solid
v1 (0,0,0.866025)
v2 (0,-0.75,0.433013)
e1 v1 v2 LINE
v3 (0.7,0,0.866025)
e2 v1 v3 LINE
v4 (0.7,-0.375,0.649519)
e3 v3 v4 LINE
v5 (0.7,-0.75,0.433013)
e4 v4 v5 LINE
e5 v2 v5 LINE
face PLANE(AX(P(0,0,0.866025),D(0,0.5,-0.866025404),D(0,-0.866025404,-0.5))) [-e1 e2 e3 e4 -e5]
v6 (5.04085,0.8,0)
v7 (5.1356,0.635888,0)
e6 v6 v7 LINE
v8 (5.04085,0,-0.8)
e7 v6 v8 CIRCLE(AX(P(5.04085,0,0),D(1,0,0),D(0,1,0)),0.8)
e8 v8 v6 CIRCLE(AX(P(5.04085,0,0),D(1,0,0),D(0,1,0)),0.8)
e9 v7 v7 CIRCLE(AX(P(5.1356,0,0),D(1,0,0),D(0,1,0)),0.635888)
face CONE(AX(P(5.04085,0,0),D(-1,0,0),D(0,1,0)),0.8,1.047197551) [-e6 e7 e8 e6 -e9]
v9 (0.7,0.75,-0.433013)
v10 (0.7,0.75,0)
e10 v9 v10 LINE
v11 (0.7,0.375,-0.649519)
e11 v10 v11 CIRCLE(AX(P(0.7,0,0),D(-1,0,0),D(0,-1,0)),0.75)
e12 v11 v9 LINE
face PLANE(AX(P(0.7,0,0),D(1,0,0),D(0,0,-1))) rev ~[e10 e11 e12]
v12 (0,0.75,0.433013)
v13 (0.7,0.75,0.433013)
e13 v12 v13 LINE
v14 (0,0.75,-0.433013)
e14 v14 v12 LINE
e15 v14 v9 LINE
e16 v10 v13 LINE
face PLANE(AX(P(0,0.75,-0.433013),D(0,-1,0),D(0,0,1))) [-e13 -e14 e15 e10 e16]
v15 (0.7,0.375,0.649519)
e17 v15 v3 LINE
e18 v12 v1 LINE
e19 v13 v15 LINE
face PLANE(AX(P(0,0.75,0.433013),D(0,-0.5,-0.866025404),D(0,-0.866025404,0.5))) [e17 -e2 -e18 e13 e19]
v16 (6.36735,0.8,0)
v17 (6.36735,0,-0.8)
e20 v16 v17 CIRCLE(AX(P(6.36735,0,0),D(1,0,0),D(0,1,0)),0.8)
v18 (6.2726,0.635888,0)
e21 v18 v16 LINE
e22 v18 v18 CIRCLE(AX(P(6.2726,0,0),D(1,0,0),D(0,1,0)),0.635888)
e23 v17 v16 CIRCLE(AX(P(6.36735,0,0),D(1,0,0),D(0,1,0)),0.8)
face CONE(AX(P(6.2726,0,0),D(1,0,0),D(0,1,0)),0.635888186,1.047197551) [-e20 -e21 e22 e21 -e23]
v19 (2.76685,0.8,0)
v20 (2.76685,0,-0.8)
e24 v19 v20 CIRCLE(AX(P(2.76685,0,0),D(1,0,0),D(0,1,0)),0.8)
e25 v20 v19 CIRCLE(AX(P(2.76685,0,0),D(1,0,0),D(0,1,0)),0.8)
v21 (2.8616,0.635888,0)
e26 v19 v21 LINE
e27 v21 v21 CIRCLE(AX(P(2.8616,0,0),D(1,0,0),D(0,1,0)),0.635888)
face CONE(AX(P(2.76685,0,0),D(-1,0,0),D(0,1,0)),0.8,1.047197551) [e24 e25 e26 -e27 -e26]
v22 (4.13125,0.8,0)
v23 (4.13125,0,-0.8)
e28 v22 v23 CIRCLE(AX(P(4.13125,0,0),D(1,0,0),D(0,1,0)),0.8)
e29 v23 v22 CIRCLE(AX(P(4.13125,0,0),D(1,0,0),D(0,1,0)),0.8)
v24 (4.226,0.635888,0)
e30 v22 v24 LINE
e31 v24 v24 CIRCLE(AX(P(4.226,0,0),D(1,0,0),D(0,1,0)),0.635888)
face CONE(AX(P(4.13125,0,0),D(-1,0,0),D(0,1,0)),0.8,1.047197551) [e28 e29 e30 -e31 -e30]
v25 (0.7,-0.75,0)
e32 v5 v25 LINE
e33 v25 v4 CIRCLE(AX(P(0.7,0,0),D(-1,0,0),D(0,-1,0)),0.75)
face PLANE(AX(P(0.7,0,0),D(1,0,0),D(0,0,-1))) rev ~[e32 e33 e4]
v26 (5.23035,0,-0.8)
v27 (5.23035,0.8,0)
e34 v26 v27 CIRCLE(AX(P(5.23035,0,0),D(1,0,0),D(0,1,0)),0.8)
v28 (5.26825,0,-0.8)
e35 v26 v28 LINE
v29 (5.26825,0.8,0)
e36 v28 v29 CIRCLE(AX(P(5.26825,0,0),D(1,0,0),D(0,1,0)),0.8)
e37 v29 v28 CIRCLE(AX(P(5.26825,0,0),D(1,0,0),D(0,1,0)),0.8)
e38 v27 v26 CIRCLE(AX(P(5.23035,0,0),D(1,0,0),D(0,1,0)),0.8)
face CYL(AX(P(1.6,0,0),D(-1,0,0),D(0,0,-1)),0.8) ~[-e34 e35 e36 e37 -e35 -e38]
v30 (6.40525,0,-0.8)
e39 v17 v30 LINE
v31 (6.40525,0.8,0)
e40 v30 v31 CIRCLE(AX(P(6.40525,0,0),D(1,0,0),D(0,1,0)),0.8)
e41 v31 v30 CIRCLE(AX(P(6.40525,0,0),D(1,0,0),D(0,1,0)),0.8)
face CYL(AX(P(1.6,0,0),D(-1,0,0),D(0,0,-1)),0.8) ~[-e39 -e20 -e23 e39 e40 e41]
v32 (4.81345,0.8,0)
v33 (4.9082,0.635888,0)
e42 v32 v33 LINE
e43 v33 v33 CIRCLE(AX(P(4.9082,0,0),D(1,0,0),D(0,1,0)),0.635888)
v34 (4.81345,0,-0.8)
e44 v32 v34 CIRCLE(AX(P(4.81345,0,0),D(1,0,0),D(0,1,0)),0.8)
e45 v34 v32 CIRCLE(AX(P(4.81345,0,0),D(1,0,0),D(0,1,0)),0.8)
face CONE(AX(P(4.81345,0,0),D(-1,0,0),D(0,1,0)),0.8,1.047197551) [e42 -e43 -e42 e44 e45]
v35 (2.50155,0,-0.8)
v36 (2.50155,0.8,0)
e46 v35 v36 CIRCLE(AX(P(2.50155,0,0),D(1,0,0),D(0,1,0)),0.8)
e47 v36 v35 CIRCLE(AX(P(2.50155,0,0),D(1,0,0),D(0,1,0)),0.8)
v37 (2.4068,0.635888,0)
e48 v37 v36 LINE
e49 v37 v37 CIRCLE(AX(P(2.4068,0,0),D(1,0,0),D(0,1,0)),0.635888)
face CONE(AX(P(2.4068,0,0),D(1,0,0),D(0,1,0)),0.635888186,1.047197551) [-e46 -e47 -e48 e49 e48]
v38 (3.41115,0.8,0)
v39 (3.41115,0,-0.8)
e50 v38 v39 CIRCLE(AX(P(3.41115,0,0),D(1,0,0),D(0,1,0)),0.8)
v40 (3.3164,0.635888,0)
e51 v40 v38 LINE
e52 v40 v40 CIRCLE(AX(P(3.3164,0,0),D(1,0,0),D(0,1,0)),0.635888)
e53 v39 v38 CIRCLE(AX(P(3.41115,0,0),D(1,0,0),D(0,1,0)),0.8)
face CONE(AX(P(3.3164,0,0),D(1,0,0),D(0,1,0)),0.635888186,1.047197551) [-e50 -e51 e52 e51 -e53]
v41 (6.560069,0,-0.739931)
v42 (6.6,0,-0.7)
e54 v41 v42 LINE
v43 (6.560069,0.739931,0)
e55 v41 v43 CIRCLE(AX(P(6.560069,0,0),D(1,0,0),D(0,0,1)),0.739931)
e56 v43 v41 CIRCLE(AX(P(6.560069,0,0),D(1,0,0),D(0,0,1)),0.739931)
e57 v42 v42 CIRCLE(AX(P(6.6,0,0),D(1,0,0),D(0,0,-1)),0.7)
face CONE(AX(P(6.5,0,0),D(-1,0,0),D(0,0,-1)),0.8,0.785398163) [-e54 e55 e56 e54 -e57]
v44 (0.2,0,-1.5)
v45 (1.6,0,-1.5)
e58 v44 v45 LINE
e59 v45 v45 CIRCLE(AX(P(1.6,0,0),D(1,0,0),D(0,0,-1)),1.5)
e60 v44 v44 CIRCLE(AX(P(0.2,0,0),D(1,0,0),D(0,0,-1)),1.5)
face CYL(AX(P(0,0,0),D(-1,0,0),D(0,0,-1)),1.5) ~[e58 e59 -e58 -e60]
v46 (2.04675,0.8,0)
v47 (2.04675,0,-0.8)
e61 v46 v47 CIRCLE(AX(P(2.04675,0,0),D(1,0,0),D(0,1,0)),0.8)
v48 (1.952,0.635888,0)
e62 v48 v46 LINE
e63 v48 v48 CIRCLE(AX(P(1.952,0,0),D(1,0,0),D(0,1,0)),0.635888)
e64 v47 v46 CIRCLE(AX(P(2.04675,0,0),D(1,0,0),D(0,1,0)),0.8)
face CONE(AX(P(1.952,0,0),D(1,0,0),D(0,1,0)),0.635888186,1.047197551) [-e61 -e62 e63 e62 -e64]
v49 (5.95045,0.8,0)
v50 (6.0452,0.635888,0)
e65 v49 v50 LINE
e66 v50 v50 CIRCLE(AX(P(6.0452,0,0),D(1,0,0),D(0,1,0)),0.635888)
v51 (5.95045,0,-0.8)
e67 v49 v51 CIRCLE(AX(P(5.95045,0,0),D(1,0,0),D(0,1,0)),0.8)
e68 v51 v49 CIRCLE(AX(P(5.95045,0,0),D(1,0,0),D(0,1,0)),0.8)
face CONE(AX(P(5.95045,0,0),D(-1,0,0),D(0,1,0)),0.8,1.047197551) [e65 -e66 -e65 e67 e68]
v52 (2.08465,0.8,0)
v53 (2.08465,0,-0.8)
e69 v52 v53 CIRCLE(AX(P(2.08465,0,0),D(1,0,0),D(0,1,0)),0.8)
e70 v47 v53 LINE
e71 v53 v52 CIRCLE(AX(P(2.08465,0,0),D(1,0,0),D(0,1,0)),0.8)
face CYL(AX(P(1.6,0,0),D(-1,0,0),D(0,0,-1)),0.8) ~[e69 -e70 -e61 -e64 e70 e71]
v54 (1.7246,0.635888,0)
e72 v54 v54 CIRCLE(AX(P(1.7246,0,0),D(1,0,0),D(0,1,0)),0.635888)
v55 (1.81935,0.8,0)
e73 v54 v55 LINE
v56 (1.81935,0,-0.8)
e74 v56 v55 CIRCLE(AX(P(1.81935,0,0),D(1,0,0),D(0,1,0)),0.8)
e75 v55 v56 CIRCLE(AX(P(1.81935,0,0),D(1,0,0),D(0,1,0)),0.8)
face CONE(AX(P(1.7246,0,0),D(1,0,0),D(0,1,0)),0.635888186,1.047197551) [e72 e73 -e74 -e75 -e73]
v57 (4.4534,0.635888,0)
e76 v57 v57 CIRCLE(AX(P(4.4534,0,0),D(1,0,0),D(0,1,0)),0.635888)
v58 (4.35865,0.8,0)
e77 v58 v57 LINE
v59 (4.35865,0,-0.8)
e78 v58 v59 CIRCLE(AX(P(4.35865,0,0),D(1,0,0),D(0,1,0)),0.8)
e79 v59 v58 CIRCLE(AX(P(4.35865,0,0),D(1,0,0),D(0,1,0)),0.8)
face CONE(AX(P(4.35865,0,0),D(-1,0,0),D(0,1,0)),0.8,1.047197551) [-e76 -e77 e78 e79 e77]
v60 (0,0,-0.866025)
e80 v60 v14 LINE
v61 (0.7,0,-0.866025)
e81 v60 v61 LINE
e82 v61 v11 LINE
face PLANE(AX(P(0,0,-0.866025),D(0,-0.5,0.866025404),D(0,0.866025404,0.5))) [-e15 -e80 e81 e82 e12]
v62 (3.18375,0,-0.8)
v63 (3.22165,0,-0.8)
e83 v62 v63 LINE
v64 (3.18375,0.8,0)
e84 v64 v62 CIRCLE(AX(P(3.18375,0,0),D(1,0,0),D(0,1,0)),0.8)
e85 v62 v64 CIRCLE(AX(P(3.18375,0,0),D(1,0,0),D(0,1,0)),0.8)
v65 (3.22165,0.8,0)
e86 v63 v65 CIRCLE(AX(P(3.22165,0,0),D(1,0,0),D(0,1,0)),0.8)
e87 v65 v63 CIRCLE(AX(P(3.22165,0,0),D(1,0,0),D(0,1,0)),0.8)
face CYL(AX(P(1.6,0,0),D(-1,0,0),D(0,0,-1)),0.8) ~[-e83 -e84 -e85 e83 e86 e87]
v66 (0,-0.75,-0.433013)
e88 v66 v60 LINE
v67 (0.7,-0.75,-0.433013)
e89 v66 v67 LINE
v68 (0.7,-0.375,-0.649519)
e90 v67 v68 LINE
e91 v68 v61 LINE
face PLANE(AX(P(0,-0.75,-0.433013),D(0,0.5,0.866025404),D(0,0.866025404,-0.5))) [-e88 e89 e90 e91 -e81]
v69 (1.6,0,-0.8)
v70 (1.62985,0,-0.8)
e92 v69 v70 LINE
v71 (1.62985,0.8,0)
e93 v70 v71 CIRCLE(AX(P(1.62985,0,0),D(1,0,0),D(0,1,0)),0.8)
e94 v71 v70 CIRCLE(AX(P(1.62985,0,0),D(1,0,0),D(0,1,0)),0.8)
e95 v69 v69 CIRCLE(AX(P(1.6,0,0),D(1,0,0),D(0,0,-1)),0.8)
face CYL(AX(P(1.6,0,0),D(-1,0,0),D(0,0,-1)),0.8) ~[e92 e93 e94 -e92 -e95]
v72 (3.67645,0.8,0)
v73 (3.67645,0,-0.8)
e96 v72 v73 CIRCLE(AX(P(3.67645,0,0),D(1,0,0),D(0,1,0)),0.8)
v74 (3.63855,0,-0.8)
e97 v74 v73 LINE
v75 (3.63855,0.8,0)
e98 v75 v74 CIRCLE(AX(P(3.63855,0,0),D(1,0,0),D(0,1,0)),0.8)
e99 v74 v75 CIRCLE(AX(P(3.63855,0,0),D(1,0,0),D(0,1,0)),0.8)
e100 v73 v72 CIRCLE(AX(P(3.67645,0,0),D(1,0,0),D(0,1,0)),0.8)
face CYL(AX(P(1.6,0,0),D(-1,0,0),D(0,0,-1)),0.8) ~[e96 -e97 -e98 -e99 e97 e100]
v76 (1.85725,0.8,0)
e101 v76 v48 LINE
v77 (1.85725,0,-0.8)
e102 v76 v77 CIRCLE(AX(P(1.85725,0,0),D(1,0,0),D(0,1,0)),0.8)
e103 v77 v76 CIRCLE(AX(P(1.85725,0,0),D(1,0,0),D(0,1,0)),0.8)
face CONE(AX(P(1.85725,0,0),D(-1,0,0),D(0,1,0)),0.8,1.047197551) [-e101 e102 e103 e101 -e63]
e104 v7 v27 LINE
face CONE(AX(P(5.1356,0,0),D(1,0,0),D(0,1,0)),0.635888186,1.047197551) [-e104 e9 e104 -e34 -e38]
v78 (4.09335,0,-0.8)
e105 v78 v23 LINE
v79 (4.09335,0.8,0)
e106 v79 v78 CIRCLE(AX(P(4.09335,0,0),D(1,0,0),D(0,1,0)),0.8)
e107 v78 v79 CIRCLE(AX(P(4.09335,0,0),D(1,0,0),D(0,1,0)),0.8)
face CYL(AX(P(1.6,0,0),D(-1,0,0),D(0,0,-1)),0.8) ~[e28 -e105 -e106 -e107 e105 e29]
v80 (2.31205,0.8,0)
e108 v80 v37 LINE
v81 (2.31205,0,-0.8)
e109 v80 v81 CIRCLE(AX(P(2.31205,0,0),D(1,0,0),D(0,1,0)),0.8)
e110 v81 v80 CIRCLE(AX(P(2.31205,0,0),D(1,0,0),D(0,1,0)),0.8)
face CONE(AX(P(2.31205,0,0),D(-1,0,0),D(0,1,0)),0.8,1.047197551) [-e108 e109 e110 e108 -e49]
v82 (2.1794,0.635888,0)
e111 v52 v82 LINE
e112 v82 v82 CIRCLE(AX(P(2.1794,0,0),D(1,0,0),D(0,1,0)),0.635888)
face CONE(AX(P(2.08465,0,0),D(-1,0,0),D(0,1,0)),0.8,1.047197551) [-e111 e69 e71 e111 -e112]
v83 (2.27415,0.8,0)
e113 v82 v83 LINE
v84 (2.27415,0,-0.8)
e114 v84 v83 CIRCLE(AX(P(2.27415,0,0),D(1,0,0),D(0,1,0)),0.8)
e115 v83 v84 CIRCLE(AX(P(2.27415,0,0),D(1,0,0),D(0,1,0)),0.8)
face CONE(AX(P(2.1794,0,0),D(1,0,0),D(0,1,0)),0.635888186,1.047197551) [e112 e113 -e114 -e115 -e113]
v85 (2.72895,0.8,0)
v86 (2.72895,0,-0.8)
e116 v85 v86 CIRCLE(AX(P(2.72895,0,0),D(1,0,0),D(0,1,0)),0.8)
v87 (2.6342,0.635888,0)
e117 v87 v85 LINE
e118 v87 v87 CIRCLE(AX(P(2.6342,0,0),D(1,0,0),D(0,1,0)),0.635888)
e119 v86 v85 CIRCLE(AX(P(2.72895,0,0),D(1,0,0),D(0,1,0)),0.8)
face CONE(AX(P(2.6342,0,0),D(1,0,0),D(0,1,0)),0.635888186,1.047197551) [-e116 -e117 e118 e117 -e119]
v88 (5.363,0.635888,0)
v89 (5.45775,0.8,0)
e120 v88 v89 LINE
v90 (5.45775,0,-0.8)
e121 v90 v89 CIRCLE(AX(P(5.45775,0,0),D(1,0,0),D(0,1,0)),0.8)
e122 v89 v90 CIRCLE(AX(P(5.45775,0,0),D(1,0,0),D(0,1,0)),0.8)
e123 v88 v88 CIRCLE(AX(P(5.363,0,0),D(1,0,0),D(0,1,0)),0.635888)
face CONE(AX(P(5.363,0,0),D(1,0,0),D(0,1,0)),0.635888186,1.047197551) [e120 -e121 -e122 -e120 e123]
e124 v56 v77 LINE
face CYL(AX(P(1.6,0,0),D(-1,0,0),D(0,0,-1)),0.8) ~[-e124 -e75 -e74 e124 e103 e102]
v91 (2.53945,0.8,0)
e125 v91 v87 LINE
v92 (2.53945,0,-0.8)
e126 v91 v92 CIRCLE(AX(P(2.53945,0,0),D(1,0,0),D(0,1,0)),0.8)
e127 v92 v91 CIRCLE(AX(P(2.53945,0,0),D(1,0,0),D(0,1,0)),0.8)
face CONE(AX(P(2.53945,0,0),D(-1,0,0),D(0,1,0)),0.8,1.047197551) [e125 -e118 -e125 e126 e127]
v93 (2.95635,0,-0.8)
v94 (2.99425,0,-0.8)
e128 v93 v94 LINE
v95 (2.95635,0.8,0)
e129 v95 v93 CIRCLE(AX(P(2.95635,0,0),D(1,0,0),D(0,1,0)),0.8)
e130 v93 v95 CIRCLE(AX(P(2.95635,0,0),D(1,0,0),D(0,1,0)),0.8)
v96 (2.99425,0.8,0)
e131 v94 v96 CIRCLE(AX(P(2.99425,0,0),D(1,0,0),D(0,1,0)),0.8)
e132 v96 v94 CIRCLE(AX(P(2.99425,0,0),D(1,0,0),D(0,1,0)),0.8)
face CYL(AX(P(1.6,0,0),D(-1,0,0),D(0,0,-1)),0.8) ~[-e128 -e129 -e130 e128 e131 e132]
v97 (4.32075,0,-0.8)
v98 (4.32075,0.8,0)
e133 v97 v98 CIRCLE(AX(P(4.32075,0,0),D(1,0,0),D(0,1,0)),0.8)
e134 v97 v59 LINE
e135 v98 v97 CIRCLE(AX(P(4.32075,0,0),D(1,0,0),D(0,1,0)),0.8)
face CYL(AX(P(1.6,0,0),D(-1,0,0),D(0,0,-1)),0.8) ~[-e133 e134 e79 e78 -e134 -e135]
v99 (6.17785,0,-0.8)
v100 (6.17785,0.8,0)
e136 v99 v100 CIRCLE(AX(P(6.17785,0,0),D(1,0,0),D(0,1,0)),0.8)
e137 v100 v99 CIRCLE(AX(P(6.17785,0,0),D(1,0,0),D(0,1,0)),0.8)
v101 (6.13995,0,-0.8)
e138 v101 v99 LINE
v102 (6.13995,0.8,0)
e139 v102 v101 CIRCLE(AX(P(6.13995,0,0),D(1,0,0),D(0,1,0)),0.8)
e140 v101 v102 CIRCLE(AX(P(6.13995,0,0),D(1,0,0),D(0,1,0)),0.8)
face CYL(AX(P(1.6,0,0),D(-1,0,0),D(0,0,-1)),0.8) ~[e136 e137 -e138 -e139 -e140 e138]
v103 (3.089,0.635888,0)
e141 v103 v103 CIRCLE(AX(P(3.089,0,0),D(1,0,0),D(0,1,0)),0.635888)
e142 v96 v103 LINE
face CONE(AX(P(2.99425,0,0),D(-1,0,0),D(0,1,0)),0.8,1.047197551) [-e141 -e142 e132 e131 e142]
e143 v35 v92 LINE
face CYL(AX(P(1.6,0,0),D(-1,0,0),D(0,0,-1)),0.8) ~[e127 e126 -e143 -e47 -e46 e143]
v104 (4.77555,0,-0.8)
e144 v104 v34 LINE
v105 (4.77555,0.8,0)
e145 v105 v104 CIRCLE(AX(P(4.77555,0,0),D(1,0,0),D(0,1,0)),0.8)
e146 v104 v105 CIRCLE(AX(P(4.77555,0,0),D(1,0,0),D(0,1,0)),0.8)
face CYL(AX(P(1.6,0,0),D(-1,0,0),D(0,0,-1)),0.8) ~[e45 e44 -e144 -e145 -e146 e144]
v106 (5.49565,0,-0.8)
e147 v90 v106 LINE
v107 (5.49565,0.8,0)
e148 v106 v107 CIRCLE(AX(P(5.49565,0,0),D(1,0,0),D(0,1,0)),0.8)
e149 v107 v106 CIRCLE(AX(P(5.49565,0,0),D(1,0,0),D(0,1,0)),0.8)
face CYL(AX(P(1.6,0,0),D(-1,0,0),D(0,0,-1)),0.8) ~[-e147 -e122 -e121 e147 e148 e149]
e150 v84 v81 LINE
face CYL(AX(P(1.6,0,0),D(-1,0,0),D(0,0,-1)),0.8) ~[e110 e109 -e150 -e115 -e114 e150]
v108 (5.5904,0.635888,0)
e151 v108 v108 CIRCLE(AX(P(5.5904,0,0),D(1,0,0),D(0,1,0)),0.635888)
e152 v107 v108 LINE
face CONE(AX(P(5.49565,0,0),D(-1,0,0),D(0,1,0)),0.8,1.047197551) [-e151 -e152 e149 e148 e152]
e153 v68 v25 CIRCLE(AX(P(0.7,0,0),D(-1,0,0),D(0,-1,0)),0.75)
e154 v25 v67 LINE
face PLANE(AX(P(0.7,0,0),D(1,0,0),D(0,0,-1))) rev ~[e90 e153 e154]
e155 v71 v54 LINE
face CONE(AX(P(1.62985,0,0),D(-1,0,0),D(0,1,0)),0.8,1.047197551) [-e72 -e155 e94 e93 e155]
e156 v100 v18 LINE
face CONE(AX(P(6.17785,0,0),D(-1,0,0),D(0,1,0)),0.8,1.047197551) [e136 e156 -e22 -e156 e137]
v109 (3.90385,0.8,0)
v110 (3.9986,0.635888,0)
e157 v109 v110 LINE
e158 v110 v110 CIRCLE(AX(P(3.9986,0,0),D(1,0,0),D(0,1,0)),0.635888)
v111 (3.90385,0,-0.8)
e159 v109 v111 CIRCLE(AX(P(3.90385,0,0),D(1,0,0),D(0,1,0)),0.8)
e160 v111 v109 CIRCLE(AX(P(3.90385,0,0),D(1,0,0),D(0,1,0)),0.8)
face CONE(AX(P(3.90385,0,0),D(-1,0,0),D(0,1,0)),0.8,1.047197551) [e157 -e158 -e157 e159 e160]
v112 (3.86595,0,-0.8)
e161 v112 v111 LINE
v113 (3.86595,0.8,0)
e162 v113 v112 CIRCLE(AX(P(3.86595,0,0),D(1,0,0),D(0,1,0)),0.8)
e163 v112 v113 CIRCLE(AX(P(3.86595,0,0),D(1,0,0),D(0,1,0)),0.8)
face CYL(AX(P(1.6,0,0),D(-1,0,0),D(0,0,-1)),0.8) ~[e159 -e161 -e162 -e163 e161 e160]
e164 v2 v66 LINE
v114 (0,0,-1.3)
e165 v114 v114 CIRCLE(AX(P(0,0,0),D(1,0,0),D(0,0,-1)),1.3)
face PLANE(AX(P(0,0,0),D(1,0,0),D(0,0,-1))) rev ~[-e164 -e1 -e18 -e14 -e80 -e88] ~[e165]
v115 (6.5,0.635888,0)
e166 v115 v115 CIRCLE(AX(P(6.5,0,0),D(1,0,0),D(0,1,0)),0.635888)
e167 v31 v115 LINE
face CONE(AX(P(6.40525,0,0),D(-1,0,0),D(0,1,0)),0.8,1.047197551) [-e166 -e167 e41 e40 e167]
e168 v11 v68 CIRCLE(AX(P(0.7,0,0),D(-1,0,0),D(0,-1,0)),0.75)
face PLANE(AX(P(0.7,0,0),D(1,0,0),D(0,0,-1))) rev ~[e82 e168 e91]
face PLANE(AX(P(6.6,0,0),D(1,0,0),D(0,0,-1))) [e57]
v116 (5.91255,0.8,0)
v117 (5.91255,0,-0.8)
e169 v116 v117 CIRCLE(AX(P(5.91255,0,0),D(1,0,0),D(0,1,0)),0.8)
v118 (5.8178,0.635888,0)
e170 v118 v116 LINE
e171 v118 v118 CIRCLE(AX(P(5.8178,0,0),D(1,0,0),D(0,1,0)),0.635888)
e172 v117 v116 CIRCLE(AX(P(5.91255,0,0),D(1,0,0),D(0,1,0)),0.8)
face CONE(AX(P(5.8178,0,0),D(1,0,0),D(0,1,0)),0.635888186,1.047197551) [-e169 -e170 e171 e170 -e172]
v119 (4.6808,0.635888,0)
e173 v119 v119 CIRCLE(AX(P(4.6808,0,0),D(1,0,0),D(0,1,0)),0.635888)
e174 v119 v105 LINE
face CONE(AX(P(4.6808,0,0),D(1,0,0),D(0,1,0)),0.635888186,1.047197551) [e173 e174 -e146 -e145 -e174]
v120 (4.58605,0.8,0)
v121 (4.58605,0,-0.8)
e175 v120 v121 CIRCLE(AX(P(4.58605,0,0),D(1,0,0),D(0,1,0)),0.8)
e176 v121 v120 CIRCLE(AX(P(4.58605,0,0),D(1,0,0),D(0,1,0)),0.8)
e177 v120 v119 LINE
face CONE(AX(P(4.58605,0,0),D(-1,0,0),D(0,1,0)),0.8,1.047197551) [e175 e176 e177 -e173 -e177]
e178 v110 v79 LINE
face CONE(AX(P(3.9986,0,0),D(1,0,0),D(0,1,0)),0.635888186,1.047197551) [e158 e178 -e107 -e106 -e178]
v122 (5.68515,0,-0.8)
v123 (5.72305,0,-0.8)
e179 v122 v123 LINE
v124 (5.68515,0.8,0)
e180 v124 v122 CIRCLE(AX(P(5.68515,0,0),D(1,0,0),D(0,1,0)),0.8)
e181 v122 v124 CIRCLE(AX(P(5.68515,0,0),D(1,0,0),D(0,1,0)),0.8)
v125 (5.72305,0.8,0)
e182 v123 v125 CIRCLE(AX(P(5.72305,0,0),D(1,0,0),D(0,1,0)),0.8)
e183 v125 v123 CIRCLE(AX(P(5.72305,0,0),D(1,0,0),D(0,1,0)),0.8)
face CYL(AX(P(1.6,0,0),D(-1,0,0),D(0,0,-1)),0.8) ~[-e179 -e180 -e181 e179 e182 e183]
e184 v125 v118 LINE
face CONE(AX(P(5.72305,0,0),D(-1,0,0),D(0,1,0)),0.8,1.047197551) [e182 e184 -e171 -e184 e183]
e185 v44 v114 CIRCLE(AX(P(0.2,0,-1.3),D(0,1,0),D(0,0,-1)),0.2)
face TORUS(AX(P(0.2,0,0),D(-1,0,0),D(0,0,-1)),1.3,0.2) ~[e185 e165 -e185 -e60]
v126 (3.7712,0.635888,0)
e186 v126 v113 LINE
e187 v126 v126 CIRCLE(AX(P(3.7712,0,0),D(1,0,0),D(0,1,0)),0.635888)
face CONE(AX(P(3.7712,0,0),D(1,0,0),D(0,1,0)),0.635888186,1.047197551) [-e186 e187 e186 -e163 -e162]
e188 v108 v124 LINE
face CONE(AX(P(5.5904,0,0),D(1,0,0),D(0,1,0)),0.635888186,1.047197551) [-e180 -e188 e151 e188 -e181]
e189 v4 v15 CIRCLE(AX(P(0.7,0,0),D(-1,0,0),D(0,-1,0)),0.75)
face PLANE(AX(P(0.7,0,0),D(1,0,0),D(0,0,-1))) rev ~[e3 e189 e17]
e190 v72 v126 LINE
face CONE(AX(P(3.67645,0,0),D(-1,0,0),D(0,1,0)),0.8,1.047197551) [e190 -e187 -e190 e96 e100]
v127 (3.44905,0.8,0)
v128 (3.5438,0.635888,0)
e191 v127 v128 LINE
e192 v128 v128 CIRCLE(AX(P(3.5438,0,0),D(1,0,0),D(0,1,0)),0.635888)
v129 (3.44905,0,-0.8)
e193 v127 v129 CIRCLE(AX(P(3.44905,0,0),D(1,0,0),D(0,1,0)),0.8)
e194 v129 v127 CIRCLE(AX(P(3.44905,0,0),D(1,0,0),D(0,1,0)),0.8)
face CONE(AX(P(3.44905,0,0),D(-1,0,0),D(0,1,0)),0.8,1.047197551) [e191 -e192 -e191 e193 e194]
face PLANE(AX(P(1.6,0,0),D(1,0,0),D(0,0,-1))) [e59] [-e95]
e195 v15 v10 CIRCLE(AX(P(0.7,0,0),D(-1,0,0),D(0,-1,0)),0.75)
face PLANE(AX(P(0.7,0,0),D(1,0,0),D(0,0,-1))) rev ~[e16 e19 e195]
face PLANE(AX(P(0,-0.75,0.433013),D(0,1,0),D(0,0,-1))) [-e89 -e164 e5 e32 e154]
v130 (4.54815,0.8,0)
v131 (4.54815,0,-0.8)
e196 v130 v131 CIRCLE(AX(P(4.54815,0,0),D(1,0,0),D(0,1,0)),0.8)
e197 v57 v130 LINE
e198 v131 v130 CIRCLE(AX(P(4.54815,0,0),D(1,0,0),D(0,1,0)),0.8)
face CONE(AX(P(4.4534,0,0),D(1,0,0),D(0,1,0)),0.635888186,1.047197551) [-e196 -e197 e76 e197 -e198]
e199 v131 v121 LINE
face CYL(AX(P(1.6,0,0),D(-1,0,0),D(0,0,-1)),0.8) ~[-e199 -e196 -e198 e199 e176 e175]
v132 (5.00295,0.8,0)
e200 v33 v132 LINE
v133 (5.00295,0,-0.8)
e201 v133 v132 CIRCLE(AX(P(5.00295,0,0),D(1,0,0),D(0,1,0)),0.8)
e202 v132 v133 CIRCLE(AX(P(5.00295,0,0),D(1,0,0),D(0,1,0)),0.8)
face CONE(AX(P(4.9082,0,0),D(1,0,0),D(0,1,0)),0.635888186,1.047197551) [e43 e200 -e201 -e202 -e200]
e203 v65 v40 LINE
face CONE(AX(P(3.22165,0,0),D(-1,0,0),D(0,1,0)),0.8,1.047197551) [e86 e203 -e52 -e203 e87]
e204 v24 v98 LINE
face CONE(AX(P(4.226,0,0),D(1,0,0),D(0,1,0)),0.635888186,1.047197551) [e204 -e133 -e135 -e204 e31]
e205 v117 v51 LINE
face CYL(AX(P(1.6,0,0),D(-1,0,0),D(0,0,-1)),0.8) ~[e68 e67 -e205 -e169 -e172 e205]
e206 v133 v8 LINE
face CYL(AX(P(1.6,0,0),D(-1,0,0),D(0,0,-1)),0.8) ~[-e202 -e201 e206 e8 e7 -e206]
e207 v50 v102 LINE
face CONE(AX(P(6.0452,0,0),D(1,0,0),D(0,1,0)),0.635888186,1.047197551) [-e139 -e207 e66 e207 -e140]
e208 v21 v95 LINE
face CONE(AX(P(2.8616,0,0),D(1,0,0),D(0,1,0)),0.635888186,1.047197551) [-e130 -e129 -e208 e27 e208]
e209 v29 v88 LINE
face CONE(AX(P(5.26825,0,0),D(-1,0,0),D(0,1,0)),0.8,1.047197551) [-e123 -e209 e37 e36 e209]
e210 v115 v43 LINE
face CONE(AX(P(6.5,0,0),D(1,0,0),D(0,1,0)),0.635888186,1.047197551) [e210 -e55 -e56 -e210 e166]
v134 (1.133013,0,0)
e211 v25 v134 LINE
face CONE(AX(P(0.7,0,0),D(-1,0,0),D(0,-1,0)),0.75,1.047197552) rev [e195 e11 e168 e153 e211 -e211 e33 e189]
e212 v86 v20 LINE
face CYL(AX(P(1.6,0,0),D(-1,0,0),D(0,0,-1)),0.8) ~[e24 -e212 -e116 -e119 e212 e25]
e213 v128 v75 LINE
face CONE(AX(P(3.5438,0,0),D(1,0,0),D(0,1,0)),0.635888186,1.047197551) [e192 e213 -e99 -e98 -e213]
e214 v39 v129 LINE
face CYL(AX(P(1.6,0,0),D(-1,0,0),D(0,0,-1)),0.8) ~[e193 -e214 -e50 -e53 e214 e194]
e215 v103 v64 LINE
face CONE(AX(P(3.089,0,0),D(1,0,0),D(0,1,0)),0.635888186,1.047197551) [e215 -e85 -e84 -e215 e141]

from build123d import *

# Parameters (mm, degrees)
SKETCH1_R           = 1.5
BASEHEAD_DEPTH      = 1.6
SKETCH2_R           = 0.8
BASEBODY_DEPTH      = 5
HEXAGONSOCKET_DEPTH = 0.7
TOPFILLET_R         = 0.2
CHAMFER1_SIZE       = 0.1
LPATTERN10_COUNT    = 22
LPATTERN10_PITCH    = 0.2274


with BuildPart() as part:
    # Sketch1 → BaseHead (new body)
    with BuildSketch(Plane(origin=(0, 0, 0), x_dir=(0, 0, -1), z_dir=(1, 0, 0))):
        Circle(SKETCH1_R)
    extrude(amount=BASEHEAD_DEPTH)

    # Sketch2 → BaseBody (add)
    with BuildSketch(Plane(origin=(1.6, 0, 0), x_dir=(0, 0, -1), z_dir=(1, 0, 0))):
        Circle(SKETCH2_R)
    extrude(amount=BASEBODY_DEPTH)

    # Sketch3 → HexagonSocket (cut)
    with BuildSketch(Plane(origin=(0, 0, 0), x_dir=(0, 0, -1), z_dir=(1, 0, 0))):
        Polygon((0.866025404, 0), (0.433012702, 0.75), (-0.433012702, 0.75), (-0.866025404, 0), (-0.433012702, -0.75), (0.433012702, -0.75), align=None)
    extrude(amount=HEXAGONSOCKET_DEPTH, mode=Mode.SUBTRACT)

    # Sketch4 → Cut-Revolve1 (revolve, cut)
    with BuildSketch(Plane(origin=(-4.19613823, 0.75, 0), x_dir=(-1, 0, 0), z_dir=(0, 0, 1))):
        Polygon((-4.89613823, 1.5), (-5.329150931, 0.75), (-4.89613823, 0.75), align=None)
    revolve(axis=Axis((0.838992387, 0, 0), (-1, 0, 0)), mode=Mode.SUBTRACT)

    # TopFillet
    topfillet_edges = [part.edges().sort_by_distance(p)[0] for p in [
        (0, 0, 1.5),
    ]]
    fillet(topfillet_edges, radius=TOPFILLET_R)

    # Chamfer1
    chamfer1_edges = [part.edges().sort_by_distance(p)[0] for p in [
        (6.6, 0, 0.8),
    ]]
    chamfer(chamfer1_edges, length=CHAMFER1_SIZE)

    # Sketch5 → Cut-Revolve10 (revolve, cut)
    with BuildSketch(Plane.XY):
        Polygon((6.5, 0.635888186), (6.59475, 0.8), (6.59475, 0.9895), (6.40525, 0.9895), (6.40525, 0.8), align=None)
    cut_revolve10 = revolve(axis=Axis((0, 0, 0), (1, 0, 0)), mode=Mode.SUBTRACT)

    # LPattern10: Cut-Revolve10 ×22
    with Locations(*[(-i * LPATTERN10_PITCH, 0, 0) for i in range(1, LPATTERN10_COUNT)]):
        add(cut_revolve10, mode=Mode.SUBTRACT)


solid = part.part
